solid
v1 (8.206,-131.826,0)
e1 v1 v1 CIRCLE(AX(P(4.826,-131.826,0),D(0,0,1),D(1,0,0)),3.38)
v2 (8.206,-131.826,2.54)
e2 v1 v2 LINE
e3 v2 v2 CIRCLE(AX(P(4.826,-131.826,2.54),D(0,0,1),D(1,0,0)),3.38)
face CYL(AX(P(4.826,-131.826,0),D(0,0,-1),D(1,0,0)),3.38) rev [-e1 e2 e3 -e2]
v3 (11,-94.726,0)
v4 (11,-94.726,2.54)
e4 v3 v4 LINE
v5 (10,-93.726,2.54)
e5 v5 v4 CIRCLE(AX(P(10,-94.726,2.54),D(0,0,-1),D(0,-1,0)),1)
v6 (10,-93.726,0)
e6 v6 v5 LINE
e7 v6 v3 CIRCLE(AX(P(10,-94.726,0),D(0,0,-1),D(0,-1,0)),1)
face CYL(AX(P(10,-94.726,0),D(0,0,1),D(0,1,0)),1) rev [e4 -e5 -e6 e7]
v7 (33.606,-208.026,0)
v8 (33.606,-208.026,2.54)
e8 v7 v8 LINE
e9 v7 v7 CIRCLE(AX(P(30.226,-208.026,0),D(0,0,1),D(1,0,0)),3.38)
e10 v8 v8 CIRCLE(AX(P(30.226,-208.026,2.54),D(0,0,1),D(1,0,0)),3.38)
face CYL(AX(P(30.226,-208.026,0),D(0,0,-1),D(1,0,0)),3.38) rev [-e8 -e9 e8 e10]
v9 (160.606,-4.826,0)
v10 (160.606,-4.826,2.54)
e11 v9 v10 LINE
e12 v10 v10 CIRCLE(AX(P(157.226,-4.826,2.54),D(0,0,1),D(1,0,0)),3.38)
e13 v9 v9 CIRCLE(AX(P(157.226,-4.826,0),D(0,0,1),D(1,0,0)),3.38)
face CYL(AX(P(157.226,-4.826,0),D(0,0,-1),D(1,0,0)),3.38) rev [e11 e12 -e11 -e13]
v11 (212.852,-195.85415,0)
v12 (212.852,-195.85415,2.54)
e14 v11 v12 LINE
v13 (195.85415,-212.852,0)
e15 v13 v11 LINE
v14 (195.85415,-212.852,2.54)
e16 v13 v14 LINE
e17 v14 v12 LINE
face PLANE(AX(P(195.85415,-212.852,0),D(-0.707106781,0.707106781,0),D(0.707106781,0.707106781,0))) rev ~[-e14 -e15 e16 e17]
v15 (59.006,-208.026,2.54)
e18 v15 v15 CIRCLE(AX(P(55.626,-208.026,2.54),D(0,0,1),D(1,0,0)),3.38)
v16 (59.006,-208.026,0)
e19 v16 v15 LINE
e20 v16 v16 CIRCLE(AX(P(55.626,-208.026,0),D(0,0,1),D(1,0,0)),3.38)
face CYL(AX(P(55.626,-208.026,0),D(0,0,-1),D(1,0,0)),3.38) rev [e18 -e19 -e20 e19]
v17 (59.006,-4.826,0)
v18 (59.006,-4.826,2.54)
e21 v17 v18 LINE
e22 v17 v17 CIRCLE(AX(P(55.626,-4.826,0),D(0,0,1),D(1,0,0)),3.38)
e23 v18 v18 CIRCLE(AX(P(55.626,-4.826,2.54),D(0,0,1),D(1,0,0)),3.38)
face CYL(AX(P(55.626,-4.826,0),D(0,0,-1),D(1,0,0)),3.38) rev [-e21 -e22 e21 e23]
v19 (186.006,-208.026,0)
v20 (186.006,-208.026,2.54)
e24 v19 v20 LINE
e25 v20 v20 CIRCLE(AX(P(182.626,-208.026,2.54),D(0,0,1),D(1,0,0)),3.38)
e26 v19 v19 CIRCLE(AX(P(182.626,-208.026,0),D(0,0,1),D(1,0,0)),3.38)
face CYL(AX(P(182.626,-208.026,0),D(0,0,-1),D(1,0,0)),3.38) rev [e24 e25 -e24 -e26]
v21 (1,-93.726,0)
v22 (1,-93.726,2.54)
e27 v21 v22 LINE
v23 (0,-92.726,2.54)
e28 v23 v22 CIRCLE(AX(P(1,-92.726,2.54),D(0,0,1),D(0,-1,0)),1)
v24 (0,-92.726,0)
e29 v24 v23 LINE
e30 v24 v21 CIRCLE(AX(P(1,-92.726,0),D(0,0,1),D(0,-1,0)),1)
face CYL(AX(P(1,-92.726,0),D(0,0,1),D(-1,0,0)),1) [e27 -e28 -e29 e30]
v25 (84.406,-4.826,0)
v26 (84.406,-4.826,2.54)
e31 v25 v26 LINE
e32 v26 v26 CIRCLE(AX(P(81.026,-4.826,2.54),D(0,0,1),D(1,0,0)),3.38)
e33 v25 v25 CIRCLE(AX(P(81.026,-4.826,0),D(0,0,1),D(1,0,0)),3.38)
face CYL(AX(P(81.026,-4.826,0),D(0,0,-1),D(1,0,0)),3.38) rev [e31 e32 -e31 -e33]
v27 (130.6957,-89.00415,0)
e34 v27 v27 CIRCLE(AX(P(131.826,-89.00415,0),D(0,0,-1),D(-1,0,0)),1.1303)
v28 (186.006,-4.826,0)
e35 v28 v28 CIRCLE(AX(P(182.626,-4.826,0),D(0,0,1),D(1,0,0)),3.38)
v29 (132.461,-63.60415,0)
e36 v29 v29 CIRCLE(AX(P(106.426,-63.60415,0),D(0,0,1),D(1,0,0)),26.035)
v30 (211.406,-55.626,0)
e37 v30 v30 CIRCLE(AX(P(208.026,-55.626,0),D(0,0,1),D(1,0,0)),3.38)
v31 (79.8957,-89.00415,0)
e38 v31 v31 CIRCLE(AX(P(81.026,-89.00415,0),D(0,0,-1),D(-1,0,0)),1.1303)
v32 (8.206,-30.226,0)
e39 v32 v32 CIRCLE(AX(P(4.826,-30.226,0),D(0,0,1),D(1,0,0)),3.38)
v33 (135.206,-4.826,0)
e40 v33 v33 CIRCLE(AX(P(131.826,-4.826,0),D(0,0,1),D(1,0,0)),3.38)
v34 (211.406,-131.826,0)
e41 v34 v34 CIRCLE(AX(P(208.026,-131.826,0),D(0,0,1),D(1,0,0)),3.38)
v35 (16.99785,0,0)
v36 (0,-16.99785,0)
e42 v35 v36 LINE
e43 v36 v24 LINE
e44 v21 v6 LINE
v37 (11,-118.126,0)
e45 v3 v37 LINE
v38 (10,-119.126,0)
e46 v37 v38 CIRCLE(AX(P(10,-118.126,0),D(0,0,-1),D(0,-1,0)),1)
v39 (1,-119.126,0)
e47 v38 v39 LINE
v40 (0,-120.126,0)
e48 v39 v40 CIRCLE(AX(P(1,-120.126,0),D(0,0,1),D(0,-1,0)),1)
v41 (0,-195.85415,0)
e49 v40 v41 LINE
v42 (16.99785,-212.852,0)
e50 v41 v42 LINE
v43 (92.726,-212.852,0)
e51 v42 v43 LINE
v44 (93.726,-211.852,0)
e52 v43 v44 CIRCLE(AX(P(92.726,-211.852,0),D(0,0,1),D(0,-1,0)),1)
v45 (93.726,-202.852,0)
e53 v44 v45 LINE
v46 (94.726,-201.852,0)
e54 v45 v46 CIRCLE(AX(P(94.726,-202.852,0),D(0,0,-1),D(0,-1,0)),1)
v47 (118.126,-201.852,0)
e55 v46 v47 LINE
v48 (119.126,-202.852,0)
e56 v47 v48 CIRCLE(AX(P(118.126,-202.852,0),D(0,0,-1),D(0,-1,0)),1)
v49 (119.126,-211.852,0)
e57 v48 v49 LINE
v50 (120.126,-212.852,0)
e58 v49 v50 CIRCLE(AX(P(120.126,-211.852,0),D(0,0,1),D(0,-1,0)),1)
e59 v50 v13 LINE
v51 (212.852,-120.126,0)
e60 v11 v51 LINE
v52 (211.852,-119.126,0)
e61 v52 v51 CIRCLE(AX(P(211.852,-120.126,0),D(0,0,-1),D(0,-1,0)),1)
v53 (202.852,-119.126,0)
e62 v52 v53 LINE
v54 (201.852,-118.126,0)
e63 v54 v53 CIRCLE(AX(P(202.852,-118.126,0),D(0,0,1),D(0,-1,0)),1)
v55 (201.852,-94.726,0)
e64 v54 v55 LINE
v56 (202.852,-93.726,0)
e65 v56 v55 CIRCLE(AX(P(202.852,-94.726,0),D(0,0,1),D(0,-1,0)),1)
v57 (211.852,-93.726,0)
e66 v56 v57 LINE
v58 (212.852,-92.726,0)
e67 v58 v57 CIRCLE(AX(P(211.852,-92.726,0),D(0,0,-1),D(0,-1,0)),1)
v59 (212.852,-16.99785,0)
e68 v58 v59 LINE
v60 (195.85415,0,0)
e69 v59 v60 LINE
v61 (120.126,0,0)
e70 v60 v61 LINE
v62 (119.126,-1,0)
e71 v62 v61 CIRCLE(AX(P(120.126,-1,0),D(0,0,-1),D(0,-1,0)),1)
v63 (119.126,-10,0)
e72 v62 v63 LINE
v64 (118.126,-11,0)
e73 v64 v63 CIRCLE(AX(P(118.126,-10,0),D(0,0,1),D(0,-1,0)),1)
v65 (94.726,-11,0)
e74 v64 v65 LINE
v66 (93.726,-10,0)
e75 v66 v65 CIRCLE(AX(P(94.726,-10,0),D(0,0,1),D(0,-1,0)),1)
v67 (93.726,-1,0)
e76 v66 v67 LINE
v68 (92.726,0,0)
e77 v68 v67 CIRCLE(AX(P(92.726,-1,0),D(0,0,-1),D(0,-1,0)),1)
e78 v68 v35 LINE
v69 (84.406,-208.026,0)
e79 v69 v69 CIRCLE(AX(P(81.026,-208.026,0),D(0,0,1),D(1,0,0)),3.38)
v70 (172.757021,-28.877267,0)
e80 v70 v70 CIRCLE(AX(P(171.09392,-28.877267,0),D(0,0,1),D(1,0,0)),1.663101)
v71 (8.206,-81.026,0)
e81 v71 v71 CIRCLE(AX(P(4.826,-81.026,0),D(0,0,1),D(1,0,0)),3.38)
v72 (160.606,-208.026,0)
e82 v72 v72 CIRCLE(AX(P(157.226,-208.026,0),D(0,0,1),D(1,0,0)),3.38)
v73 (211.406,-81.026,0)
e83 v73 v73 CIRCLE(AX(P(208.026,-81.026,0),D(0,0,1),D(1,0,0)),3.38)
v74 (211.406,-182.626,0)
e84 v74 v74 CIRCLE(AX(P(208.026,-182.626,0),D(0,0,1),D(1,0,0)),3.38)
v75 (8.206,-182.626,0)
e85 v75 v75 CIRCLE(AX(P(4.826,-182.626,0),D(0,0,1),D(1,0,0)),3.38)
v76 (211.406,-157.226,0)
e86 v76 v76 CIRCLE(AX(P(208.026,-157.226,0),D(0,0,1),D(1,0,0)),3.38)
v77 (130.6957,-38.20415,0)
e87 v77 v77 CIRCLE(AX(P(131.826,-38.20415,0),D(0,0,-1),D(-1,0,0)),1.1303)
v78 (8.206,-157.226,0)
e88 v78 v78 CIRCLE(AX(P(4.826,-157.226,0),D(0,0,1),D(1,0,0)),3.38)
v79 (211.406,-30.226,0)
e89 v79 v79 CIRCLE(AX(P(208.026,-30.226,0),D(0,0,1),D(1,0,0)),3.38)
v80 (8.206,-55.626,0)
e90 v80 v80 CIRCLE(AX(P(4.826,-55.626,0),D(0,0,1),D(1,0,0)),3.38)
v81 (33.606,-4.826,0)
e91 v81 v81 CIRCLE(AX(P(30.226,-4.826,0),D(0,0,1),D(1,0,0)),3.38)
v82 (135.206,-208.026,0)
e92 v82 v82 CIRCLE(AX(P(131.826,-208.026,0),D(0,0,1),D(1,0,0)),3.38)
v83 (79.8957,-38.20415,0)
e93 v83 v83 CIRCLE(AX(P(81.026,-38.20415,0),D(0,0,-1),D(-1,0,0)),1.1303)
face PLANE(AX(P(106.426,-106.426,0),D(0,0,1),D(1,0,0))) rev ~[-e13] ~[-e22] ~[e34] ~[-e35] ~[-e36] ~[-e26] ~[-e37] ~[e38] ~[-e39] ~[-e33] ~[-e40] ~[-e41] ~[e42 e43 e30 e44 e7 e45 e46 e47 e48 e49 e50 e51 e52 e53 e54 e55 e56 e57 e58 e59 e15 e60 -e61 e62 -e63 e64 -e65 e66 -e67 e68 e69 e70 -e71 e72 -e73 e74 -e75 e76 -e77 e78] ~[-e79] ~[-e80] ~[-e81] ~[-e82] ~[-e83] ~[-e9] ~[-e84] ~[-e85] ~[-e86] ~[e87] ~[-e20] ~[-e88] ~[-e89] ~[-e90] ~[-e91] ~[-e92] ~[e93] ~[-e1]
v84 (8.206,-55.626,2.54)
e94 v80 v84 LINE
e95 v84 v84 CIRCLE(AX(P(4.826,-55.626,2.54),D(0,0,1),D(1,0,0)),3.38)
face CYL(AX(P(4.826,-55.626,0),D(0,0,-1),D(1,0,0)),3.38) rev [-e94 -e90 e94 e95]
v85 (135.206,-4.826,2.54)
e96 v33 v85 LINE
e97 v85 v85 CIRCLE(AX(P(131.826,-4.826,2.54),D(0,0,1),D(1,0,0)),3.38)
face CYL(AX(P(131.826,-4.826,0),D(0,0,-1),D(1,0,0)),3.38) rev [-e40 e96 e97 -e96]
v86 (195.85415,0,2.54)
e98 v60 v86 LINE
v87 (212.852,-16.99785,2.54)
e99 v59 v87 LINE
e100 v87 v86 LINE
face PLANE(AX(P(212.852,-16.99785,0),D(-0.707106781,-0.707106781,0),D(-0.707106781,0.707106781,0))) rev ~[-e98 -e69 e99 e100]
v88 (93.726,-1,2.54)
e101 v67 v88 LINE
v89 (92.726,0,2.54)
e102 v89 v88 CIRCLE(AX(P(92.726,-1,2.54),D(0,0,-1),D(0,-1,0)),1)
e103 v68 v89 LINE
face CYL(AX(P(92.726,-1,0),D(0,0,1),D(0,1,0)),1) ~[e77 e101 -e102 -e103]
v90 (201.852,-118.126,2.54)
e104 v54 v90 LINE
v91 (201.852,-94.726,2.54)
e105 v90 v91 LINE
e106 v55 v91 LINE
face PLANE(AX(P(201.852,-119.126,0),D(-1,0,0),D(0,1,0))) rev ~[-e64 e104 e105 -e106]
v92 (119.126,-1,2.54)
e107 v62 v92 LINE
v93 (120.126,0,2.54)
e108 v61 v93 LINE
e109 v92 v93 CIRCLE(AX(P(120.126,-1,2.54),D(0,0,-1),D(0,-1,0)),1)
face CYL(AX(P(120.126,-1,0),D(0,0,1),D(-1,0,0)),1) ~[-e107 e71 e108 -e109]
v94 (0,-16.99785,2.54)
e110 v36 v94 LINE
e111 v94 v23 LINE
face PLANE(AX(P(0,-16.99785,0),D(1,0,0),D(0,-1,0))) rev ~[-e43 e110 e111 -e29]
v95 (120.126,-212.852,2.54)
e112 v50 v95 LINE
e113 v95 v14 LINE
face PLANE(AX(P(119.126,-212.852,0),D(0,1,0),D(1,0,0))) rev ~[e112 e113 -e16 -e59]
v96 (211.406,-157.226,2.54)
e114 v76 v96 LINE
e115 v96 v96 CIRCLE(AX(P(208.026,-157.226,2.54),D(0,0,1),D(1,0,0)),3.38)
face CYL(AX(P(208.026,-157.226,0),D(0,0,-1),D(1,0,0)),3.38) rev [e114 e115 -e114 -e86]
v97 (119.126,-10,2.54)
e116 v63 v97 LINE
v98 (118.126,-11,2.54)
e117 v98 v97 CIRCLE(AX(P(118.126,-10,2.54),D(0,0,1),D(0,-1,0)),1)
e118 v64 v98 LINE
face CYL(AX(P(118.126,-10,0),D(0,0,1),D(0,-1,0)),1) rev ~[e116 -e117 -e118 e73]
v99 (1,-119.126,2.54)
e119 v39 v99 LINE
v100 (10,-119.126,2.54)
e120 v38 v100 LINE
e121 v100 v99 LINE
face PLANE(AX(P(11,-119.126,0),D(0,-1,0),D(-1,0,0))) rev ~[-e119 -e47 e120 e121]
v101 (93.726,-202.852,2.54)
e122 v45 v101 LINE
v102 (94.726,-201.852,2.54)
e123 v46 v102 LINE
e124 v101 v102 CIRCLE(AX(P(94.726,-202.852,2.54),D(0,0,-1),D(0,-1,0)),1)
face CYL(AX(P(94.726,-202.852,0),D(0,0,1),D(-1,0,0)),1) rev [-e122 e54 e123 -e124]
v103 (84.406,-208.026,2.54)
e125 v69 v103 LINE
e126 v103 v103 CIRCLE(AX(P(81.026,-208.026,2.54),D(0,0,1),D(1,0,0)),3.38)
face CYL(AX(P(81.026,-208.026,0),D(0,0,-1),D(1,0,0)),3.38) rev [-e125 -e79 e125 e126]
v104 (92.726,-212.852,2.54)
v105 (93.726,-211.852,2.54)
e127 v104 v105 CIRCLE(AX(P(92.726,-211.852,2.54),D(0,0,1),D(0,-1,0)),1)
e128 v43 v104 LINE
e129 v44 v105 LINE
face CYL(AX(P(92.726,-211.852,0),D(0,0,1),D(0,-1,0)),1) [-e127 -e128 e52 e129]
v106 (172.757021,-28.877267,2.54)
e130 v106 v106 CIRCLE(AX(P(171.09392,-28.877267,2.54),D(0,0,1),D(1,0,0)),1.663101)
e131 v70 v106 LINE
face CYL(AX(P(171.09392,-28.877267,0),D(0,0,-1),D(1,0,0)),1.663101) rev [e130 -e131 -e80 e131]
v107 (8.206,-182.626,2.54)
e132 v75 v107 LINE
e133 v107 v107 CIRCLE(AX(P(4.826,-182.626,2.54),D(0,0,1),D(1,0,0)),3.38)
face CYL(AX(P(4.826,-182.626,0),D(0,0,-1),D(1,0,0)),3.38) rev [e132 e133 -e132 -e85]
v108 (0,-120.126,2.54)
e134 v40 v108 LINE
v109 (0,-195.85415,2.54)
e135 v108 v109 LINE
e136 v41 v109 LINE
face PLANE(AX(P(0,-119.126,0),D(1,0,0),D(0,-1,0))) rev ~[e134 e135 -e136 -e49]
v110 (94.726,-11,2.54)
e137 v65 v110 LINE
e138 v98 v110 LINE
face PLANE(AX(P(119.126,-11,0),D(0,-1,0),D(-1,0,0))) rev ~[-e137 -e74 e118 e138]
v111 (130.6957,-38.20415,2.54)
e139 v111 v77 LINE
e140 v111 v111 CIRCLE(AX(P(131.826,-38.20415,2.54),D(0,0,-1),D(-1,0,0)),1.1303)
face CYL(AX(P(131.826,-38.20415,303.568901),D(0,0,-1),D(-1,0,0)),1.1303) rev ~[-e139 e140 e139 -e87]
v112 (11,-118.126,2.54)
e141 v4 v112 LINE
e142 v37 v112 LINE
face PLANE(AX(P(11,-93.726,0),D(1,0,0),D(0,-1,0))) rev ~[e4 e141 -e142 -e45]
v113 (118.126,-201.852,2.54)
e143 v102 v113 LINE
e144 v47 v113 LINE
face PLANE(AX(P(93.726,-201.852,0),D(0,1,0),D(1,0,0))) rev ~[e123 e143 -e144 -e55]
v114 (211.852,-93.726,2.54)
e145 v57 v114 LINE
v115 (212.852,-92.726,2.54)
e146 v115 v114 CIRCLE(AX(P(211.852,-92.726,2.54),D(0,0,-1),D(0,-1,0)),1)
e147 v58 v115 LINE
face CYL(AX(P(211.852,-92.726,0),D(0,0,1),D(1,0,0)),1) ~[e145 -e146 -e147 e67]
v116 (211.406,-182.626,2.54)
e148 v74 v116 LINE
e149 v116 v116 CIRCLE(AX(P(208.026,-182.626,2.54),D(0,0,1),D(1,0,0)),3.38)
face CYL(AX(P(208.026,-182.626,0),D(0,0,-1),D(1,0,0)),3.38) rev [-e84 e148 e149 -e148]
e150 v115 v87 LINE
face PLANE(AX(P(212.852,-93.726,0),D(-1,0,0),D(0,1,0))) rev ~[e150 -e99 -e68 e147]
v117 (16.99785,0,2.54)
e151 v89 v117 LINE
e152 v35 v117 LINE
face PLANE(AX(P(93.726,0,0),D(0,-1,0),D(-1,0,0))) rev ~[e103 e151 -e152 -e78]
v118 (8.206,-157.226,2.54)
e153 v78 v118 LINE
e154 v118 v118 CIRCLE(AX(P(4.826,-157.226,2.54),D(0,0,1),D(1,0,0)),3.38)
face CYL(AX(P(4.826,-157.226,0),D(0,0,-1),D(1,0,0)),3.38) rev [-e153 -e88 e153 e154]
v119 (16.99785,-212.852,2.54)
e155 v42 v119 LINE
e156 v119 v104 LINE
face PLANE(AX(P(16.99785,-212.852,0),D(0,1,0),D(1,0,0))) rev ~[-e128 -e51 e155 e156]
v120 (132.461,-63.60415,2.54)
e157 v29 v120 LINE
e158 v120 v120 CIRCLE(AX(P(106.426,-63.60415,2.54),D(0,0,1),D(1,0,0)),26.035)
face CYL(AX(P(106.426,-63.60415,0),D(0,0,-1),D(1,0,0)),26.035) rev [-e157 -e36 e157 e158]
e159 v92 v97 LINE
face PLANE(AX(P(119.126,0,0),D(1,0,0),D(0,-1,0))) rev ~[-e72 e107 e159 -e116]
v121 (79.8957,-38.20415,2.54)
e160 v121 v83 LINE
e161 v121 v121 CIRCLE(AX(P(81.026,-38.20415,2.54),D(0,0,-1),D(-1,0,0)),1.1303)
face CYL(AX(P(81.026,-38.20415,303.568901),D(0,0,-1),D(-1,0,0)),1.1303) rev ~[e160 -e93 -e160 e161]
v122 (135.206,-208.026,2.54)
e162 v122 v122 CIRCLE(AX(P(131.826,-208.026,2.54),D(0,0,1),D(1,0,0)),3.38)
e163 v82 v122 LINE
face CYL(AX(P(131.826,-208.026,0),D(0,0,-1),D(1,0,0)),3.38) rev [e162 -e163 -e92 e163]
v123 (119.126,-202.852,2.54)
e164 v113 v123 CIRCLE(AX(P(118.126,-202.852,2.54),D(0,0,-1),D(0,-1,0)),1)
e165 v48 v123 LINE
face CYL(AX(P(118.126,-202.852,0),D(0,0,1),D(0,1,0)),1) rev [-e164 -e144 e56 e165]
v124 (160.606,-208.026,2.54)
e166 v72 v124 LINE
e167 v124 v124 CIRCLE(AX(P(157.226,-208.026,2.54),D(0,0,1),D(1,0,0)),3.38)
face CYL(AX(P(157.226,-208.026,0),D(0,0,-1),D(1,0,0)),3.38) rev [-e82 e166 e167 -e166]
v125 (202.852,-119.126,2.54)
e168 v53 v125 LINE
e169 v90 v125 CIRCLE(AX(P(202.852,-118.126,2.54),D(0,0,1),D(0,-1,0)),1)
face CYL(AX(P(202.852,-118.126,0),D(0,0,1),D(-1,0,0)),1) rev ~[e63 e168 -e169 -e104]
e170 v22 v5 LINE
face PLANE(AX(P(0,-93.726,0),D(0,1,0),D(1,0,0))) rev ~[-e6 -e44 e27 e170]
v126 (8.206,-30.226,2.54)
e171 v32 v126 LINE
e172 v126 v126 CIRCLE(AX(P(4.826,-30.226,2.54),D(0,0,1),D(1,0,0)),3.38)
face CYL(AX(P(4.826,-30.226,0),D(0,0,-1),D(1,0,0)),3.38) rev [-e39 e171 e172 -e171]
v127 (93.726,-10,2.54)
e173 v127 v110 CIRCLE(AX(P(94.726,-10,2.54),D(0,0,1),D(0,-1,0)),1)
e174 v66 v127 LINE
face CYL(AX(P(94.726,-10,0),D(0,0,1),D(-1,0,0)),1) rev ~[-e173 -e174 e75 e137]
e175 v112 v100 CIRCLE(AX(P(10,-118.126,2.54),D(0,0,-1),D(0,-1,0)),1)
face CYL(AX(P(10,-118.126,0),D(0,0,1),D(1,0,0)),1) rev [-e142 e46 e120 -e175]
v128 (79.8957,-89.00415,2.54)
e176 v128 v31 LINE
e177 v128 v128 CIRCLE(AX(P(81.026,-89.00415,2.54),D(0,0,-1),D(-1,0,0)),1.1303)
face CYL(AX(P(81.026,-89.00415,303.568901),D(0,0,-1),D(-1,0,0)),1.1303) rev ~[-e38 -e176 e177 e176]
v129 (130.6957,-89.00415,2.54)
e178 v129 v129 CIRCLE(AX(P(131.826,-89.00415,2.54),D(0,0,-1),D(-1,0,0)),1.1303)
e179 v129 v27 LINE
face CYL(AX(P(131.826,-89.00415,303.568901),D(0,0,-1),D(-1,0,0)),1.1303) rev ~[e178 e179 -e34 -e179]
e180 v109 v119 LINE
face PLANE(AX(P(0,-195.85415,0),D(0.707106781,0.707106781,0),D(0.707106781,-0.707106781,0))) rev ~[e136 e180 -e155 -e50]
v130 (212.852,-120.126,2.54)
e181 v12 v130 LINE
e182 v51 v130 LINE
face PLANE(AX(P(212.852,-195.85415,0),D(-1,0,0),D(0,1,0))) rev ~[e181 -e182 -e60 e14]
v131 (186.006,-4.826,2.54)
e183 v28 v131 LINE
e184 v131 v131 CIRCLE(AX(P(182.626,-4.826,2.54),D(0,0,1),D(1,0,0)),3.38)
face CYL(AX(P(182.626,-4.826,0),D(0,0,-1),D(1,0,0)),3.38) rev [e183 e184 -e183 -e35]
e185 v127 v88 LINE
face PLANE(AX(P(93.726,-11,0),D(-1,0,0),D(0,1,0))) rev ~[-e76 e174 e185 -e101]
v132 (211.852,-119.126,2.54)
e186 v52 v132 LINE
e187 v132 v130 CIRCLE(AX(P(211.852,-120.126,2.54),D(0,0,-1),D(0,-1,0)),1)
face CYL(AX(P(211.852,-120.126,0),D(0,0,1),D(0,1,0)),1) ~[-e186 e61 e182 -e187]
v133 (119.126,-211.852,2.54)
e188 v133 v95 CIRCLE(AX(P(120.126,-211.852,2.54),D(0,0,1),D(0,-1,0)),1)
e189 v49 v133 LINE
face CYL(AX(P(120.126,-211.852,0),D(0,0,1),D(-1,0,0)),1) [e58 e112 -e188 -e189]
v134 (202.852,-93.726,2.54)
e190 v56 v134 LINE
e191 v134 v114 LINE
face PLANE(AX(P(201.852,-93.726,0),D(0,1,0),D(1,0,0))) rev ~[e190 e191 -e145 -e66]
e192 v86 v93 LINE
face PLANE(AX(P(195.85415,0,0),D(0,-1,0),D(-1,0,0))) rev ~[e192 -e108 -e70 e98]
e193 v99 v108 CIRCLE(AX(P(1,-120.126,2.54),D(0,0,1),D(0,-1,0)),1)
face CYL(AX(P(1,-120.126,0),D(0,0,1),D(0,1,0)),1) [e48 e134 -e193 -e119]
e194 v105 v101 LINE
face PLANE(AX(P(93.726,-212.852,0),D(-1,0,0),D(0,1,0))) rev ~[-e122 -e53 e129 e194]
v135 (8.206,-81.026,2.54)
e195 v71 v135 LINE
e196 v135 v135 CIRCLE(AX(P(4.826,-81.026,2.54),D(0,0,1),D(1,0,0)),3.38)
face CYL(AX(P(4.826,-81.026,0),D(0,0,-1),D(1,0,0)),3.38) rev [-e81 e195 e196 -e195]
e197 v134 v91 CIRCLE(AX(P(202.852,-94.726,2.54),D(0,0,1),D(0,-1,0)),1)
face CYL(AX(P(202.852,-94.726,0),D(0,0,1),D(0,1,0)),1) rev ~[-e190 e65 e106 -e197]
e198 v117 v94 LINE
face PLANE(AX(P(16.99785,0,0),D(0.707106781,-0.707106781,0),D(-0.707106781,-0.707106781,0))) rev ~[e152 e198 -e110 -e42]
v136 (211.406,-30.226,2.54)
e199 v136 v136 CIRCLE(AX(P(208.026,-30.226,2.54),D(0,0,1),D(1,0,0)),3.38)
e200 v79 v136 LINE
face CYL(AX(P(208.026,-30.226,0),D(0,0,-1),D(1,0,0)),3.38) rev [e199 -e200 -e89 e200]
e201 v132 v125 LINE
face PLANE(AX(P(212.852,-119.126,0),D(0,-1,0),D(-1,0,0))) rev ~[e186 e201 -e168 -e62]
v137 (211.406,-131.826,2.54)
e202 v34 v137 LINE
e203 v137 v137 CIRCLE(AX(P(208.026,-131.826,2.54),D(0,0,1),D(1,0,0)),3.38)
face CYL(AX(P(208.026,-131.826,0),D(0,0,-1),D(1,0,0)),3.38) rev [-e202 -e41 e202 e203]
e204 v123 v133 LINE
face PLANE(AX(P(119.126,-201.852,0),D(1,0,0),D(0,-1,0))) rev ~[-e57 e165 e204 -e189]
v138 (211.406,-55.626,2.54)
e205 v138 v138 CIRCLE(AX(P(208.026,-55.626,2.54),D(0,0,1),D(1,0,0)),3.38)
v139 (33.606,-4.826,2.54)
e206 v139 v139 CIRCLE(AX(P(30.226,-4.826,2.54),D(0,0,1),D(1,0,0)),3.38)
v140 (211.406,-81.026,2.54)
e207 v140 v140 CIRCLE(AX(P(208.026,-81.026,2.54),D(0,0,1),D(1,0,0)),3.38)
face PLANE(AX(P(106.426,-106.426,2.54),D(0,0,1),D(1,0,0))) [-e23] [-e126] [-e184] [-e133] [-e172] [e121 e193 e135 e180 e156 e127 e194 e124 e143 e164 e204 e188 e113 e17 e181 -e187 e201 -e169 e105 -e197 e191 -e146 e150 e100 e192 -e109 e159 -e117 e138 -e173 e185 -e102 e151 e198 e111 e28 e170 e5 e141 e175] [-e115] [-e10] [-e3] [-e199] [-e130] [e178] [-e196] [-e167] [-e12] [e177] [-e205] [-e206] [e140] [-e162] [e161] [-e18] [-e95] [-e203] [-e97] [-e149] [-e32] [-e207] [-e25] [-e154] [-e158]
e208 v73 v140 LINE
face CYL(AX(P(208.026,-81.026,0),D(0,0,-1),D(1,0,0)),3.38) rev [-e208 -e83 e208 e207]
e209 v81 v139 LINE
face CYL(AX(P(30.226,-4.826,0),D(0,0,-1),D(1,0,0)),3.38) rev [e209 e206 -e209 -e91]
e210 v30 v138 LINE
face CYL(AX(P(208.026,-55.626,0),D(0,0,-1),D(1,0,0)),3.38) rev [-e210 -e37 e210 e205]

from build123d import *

# Parameters (mm, degrees)
SKETCH1_R             = 3.379999993
SKETCH1_R_2           = 3.379999996
SKETCH1_R_3           = 3.379999998
SKETCH1_R_4           = 1.13
SKETCH1_R_5           = 3.38
SKETCH1_R_6           = 26.035
SKETCH1_R_7           = 1.663100761
BOSS_EXTRUDE1_DEPTH   = 2.54
F_4_40_TAPPED_HOLE1_D = 2.2606
FILLET1_R             = 1


with BuildPart() as part:
    # Sketch1 → Boss-Extrude1 (new body)
    with BuildSketch(Plane.XY):
        Polygon((93.726, 0), (16.997849999, 0), (0, -16.997849999), (0, -93.726000007), (11, -93.726000007), (11, -119.126000007), (0, -119.126000007), (0, -195.854150007), (16.997849999, -212.852000007), (93.726000007, -212.852000007), (93.726000007, -201.852000007), (119.126000007, -201.852000007), (119.126000007, -212.852000007), (195.854150007, -212.852000007), (212.852000007, -195.854150007), (212.852000007, -119.126), (201.852000007, -119.126), (201.852000007, -93.726), (212.852000007, -93.726), (212.852000007, -16.997849999), (195.854150007, 0), (119.126, 0), (119.126, -11), (93.726, -11), align=None)
        with Locations((30.226, -208.026000005)):
            Circle(SKETCH1_R, mode=Mode.SUBTRACT)
        with Locations((4.825999998, -182.626000003)):
            Circle(SKETCH1_R_2, mode=Mode.SUBTRACT)
        with Locations((55.626, -208.026000005)):
            Circle(SKETCH1_R, mode=Mode.SUBTRACT)
        with Locations((81.026, -208.026000005)):
            Circle(SKETCH1_R, mode=Mode.SUBTRACT)
        with Locations((4.825999998, -157.226000003)):
            Circle(SKETCH1_R_2, mode=Mode.SUBTRACT)
        with Locations((4.825999998, -131.826000003)):
            Circle(SKETCH1_R_2, mode=Mode.SUBTRACT)
        with Locations((131.826, -208.026000005)):
            Circle(SKETCH1_R, mode=Mode.SUBTRACT)
        with Locations((157.226, -208.026000005)):
            Circle(SKETCH1_R, mode=Mode.SUBTRACT)
        with Locations((182.626, -208.026000005)):
            Circle(SKETCH1_R, mode=Mode.SUBTRACT)
        with Locations((208.026000002, -182.626000003)):
            Circle(SKETCH1_R_3, mode=Mode.SUBTRACT)
        with Locations((208.026000002, -157.226000003)):
            Circle(SKETCH1_R_3, mode=Mode.SUBTRACT)
        with Locations((208.026000002, -131.826000003)):
            Circle(SKETCH1_R_3, mode=Mode.SUBTRACT)
        with Locations((4.825999998, -81.026000003)):
            Circle(SKETCH1_R_2, mode=Mode.SUBTRACT)
        with Locations((4.825999998, -55.626000003)):
            Circle(SKETCH1_R_2, mode=Mode.SUBTRACT)
        with Locations((81.026000003, -89.00415)):
            Circle(SKETCH1_R_4, mode=Mode.SUBTRACT)
        with Locations((4.825999998, -30.226000003)):
            Circle(SKETCH1_R_2, mode=Mode.SUBTRACT)
        with Locations((30.226, -4.826000001)):
            Circle(SKETCH1_R_5, mode=Mode.SUBTRACT)
        with Locations((81.026000003, -38.20415)):
            Circle(SKETCH1_R_4, mode=Mode.SUBTRACT)
        with Locations((55.626, -4.826000001)):
            Circle(SKETCH1_R_5, mode=Mode.SUBTRACT)
        with Locations((81.026, -4.826000001)):
            Circle(SKETCH1_R_5, mode=Mode.SUBTRACT)
        with Locations((131.826000003, -89.00415)):
            Circle(SKETCH1_R_4, mode=Mode.SUBTRACT)
        with Locations((106.426000003, -63.60415)):
            Circle(SKETCH1_R_6, mode=Mode.SUBTRACT)
        with Locations((208.026000002, -81.026000003)):
            Circle(SKETCH1_R_3, mode=Mode.SUBTRACT)
        with Locations((208.026000002, -55.626000003)):
            Circle(SKETCH1_R_3, mode=Mode.SUBTRACT)
        with Locations((131.826000003, -38.20415)):
            Circle(SKETCH1_R_4, mode=Mode.SUBTRACT)
        with Locations((131.826, -4.826000001)):
            Circle(SKETCH1_R_5, mode=Mode.SUBTRACT)
        with Locations((157.226, -4.826000001)):
            Circle(SKETCH1_R_5, mode=Mode.SUBTRACT)
        with Locations((171.093920154, -28.877267348)):
            Circle(SKETCH1_R_7, mode=Mode.SUBTRACT)
        with Locations((208.026000002, -30.226000003)):
            Circle(SKETCH1_R_3, mode=Mode.SUBTRACT)
        with Locations((182.626, -4.826000001)):
            Circle(SKETCH1_R_5, mode=Mode.SUBTRACT)
    extrude(amount=BOSS_EXTRUDE1_DEPTH)

    # #4-40 Tapped Hole1 (through all)
    with Locations(Plane(origin=(81.026000003, -38.20415, 2.54), x_dir=(1, 0, 0), z_dir=(0, 0, 1))):
        with Locations((0, 0), (50.8, 0), (50.8, -50.8), (0, -50.8)):
            Hole(F_4_40_TAPPED_HOLE1_D / 2)

    # Fillet1
    fillet1_edges = [part.edges().sort_by_distance(p)[0] for p in [
        (0, -119.126000007, 1.27),
        (11, -119.126000007, 1.27),
        (11, -93.726000007, 1.27),
        (0, -93.726000007, 1.27),
        (93.726, 0, 1.27),
        (93.726, -11, 1.27),
        (119.126, -11, 1.27),
        (119.126, 0, 1.27),
        (212.852000007, -93.726, 1.27),
        (201.852000007, -93.726, 1.27),
        (201.852000007, -119.126, 1.27),
        (212.852000007, -119.126, 1.27),
        (119.126000007, -212.852000007, 1.27),
        (119.126000007, -201.852000007, 1.27),
        (93.726000007, -201.852000007, 1.27),
        (93.726000007, -212.852000007, 1.27),
    ]]
    fillet(fillet1_edges, radius=FILLET1_R)


solid = part.part
